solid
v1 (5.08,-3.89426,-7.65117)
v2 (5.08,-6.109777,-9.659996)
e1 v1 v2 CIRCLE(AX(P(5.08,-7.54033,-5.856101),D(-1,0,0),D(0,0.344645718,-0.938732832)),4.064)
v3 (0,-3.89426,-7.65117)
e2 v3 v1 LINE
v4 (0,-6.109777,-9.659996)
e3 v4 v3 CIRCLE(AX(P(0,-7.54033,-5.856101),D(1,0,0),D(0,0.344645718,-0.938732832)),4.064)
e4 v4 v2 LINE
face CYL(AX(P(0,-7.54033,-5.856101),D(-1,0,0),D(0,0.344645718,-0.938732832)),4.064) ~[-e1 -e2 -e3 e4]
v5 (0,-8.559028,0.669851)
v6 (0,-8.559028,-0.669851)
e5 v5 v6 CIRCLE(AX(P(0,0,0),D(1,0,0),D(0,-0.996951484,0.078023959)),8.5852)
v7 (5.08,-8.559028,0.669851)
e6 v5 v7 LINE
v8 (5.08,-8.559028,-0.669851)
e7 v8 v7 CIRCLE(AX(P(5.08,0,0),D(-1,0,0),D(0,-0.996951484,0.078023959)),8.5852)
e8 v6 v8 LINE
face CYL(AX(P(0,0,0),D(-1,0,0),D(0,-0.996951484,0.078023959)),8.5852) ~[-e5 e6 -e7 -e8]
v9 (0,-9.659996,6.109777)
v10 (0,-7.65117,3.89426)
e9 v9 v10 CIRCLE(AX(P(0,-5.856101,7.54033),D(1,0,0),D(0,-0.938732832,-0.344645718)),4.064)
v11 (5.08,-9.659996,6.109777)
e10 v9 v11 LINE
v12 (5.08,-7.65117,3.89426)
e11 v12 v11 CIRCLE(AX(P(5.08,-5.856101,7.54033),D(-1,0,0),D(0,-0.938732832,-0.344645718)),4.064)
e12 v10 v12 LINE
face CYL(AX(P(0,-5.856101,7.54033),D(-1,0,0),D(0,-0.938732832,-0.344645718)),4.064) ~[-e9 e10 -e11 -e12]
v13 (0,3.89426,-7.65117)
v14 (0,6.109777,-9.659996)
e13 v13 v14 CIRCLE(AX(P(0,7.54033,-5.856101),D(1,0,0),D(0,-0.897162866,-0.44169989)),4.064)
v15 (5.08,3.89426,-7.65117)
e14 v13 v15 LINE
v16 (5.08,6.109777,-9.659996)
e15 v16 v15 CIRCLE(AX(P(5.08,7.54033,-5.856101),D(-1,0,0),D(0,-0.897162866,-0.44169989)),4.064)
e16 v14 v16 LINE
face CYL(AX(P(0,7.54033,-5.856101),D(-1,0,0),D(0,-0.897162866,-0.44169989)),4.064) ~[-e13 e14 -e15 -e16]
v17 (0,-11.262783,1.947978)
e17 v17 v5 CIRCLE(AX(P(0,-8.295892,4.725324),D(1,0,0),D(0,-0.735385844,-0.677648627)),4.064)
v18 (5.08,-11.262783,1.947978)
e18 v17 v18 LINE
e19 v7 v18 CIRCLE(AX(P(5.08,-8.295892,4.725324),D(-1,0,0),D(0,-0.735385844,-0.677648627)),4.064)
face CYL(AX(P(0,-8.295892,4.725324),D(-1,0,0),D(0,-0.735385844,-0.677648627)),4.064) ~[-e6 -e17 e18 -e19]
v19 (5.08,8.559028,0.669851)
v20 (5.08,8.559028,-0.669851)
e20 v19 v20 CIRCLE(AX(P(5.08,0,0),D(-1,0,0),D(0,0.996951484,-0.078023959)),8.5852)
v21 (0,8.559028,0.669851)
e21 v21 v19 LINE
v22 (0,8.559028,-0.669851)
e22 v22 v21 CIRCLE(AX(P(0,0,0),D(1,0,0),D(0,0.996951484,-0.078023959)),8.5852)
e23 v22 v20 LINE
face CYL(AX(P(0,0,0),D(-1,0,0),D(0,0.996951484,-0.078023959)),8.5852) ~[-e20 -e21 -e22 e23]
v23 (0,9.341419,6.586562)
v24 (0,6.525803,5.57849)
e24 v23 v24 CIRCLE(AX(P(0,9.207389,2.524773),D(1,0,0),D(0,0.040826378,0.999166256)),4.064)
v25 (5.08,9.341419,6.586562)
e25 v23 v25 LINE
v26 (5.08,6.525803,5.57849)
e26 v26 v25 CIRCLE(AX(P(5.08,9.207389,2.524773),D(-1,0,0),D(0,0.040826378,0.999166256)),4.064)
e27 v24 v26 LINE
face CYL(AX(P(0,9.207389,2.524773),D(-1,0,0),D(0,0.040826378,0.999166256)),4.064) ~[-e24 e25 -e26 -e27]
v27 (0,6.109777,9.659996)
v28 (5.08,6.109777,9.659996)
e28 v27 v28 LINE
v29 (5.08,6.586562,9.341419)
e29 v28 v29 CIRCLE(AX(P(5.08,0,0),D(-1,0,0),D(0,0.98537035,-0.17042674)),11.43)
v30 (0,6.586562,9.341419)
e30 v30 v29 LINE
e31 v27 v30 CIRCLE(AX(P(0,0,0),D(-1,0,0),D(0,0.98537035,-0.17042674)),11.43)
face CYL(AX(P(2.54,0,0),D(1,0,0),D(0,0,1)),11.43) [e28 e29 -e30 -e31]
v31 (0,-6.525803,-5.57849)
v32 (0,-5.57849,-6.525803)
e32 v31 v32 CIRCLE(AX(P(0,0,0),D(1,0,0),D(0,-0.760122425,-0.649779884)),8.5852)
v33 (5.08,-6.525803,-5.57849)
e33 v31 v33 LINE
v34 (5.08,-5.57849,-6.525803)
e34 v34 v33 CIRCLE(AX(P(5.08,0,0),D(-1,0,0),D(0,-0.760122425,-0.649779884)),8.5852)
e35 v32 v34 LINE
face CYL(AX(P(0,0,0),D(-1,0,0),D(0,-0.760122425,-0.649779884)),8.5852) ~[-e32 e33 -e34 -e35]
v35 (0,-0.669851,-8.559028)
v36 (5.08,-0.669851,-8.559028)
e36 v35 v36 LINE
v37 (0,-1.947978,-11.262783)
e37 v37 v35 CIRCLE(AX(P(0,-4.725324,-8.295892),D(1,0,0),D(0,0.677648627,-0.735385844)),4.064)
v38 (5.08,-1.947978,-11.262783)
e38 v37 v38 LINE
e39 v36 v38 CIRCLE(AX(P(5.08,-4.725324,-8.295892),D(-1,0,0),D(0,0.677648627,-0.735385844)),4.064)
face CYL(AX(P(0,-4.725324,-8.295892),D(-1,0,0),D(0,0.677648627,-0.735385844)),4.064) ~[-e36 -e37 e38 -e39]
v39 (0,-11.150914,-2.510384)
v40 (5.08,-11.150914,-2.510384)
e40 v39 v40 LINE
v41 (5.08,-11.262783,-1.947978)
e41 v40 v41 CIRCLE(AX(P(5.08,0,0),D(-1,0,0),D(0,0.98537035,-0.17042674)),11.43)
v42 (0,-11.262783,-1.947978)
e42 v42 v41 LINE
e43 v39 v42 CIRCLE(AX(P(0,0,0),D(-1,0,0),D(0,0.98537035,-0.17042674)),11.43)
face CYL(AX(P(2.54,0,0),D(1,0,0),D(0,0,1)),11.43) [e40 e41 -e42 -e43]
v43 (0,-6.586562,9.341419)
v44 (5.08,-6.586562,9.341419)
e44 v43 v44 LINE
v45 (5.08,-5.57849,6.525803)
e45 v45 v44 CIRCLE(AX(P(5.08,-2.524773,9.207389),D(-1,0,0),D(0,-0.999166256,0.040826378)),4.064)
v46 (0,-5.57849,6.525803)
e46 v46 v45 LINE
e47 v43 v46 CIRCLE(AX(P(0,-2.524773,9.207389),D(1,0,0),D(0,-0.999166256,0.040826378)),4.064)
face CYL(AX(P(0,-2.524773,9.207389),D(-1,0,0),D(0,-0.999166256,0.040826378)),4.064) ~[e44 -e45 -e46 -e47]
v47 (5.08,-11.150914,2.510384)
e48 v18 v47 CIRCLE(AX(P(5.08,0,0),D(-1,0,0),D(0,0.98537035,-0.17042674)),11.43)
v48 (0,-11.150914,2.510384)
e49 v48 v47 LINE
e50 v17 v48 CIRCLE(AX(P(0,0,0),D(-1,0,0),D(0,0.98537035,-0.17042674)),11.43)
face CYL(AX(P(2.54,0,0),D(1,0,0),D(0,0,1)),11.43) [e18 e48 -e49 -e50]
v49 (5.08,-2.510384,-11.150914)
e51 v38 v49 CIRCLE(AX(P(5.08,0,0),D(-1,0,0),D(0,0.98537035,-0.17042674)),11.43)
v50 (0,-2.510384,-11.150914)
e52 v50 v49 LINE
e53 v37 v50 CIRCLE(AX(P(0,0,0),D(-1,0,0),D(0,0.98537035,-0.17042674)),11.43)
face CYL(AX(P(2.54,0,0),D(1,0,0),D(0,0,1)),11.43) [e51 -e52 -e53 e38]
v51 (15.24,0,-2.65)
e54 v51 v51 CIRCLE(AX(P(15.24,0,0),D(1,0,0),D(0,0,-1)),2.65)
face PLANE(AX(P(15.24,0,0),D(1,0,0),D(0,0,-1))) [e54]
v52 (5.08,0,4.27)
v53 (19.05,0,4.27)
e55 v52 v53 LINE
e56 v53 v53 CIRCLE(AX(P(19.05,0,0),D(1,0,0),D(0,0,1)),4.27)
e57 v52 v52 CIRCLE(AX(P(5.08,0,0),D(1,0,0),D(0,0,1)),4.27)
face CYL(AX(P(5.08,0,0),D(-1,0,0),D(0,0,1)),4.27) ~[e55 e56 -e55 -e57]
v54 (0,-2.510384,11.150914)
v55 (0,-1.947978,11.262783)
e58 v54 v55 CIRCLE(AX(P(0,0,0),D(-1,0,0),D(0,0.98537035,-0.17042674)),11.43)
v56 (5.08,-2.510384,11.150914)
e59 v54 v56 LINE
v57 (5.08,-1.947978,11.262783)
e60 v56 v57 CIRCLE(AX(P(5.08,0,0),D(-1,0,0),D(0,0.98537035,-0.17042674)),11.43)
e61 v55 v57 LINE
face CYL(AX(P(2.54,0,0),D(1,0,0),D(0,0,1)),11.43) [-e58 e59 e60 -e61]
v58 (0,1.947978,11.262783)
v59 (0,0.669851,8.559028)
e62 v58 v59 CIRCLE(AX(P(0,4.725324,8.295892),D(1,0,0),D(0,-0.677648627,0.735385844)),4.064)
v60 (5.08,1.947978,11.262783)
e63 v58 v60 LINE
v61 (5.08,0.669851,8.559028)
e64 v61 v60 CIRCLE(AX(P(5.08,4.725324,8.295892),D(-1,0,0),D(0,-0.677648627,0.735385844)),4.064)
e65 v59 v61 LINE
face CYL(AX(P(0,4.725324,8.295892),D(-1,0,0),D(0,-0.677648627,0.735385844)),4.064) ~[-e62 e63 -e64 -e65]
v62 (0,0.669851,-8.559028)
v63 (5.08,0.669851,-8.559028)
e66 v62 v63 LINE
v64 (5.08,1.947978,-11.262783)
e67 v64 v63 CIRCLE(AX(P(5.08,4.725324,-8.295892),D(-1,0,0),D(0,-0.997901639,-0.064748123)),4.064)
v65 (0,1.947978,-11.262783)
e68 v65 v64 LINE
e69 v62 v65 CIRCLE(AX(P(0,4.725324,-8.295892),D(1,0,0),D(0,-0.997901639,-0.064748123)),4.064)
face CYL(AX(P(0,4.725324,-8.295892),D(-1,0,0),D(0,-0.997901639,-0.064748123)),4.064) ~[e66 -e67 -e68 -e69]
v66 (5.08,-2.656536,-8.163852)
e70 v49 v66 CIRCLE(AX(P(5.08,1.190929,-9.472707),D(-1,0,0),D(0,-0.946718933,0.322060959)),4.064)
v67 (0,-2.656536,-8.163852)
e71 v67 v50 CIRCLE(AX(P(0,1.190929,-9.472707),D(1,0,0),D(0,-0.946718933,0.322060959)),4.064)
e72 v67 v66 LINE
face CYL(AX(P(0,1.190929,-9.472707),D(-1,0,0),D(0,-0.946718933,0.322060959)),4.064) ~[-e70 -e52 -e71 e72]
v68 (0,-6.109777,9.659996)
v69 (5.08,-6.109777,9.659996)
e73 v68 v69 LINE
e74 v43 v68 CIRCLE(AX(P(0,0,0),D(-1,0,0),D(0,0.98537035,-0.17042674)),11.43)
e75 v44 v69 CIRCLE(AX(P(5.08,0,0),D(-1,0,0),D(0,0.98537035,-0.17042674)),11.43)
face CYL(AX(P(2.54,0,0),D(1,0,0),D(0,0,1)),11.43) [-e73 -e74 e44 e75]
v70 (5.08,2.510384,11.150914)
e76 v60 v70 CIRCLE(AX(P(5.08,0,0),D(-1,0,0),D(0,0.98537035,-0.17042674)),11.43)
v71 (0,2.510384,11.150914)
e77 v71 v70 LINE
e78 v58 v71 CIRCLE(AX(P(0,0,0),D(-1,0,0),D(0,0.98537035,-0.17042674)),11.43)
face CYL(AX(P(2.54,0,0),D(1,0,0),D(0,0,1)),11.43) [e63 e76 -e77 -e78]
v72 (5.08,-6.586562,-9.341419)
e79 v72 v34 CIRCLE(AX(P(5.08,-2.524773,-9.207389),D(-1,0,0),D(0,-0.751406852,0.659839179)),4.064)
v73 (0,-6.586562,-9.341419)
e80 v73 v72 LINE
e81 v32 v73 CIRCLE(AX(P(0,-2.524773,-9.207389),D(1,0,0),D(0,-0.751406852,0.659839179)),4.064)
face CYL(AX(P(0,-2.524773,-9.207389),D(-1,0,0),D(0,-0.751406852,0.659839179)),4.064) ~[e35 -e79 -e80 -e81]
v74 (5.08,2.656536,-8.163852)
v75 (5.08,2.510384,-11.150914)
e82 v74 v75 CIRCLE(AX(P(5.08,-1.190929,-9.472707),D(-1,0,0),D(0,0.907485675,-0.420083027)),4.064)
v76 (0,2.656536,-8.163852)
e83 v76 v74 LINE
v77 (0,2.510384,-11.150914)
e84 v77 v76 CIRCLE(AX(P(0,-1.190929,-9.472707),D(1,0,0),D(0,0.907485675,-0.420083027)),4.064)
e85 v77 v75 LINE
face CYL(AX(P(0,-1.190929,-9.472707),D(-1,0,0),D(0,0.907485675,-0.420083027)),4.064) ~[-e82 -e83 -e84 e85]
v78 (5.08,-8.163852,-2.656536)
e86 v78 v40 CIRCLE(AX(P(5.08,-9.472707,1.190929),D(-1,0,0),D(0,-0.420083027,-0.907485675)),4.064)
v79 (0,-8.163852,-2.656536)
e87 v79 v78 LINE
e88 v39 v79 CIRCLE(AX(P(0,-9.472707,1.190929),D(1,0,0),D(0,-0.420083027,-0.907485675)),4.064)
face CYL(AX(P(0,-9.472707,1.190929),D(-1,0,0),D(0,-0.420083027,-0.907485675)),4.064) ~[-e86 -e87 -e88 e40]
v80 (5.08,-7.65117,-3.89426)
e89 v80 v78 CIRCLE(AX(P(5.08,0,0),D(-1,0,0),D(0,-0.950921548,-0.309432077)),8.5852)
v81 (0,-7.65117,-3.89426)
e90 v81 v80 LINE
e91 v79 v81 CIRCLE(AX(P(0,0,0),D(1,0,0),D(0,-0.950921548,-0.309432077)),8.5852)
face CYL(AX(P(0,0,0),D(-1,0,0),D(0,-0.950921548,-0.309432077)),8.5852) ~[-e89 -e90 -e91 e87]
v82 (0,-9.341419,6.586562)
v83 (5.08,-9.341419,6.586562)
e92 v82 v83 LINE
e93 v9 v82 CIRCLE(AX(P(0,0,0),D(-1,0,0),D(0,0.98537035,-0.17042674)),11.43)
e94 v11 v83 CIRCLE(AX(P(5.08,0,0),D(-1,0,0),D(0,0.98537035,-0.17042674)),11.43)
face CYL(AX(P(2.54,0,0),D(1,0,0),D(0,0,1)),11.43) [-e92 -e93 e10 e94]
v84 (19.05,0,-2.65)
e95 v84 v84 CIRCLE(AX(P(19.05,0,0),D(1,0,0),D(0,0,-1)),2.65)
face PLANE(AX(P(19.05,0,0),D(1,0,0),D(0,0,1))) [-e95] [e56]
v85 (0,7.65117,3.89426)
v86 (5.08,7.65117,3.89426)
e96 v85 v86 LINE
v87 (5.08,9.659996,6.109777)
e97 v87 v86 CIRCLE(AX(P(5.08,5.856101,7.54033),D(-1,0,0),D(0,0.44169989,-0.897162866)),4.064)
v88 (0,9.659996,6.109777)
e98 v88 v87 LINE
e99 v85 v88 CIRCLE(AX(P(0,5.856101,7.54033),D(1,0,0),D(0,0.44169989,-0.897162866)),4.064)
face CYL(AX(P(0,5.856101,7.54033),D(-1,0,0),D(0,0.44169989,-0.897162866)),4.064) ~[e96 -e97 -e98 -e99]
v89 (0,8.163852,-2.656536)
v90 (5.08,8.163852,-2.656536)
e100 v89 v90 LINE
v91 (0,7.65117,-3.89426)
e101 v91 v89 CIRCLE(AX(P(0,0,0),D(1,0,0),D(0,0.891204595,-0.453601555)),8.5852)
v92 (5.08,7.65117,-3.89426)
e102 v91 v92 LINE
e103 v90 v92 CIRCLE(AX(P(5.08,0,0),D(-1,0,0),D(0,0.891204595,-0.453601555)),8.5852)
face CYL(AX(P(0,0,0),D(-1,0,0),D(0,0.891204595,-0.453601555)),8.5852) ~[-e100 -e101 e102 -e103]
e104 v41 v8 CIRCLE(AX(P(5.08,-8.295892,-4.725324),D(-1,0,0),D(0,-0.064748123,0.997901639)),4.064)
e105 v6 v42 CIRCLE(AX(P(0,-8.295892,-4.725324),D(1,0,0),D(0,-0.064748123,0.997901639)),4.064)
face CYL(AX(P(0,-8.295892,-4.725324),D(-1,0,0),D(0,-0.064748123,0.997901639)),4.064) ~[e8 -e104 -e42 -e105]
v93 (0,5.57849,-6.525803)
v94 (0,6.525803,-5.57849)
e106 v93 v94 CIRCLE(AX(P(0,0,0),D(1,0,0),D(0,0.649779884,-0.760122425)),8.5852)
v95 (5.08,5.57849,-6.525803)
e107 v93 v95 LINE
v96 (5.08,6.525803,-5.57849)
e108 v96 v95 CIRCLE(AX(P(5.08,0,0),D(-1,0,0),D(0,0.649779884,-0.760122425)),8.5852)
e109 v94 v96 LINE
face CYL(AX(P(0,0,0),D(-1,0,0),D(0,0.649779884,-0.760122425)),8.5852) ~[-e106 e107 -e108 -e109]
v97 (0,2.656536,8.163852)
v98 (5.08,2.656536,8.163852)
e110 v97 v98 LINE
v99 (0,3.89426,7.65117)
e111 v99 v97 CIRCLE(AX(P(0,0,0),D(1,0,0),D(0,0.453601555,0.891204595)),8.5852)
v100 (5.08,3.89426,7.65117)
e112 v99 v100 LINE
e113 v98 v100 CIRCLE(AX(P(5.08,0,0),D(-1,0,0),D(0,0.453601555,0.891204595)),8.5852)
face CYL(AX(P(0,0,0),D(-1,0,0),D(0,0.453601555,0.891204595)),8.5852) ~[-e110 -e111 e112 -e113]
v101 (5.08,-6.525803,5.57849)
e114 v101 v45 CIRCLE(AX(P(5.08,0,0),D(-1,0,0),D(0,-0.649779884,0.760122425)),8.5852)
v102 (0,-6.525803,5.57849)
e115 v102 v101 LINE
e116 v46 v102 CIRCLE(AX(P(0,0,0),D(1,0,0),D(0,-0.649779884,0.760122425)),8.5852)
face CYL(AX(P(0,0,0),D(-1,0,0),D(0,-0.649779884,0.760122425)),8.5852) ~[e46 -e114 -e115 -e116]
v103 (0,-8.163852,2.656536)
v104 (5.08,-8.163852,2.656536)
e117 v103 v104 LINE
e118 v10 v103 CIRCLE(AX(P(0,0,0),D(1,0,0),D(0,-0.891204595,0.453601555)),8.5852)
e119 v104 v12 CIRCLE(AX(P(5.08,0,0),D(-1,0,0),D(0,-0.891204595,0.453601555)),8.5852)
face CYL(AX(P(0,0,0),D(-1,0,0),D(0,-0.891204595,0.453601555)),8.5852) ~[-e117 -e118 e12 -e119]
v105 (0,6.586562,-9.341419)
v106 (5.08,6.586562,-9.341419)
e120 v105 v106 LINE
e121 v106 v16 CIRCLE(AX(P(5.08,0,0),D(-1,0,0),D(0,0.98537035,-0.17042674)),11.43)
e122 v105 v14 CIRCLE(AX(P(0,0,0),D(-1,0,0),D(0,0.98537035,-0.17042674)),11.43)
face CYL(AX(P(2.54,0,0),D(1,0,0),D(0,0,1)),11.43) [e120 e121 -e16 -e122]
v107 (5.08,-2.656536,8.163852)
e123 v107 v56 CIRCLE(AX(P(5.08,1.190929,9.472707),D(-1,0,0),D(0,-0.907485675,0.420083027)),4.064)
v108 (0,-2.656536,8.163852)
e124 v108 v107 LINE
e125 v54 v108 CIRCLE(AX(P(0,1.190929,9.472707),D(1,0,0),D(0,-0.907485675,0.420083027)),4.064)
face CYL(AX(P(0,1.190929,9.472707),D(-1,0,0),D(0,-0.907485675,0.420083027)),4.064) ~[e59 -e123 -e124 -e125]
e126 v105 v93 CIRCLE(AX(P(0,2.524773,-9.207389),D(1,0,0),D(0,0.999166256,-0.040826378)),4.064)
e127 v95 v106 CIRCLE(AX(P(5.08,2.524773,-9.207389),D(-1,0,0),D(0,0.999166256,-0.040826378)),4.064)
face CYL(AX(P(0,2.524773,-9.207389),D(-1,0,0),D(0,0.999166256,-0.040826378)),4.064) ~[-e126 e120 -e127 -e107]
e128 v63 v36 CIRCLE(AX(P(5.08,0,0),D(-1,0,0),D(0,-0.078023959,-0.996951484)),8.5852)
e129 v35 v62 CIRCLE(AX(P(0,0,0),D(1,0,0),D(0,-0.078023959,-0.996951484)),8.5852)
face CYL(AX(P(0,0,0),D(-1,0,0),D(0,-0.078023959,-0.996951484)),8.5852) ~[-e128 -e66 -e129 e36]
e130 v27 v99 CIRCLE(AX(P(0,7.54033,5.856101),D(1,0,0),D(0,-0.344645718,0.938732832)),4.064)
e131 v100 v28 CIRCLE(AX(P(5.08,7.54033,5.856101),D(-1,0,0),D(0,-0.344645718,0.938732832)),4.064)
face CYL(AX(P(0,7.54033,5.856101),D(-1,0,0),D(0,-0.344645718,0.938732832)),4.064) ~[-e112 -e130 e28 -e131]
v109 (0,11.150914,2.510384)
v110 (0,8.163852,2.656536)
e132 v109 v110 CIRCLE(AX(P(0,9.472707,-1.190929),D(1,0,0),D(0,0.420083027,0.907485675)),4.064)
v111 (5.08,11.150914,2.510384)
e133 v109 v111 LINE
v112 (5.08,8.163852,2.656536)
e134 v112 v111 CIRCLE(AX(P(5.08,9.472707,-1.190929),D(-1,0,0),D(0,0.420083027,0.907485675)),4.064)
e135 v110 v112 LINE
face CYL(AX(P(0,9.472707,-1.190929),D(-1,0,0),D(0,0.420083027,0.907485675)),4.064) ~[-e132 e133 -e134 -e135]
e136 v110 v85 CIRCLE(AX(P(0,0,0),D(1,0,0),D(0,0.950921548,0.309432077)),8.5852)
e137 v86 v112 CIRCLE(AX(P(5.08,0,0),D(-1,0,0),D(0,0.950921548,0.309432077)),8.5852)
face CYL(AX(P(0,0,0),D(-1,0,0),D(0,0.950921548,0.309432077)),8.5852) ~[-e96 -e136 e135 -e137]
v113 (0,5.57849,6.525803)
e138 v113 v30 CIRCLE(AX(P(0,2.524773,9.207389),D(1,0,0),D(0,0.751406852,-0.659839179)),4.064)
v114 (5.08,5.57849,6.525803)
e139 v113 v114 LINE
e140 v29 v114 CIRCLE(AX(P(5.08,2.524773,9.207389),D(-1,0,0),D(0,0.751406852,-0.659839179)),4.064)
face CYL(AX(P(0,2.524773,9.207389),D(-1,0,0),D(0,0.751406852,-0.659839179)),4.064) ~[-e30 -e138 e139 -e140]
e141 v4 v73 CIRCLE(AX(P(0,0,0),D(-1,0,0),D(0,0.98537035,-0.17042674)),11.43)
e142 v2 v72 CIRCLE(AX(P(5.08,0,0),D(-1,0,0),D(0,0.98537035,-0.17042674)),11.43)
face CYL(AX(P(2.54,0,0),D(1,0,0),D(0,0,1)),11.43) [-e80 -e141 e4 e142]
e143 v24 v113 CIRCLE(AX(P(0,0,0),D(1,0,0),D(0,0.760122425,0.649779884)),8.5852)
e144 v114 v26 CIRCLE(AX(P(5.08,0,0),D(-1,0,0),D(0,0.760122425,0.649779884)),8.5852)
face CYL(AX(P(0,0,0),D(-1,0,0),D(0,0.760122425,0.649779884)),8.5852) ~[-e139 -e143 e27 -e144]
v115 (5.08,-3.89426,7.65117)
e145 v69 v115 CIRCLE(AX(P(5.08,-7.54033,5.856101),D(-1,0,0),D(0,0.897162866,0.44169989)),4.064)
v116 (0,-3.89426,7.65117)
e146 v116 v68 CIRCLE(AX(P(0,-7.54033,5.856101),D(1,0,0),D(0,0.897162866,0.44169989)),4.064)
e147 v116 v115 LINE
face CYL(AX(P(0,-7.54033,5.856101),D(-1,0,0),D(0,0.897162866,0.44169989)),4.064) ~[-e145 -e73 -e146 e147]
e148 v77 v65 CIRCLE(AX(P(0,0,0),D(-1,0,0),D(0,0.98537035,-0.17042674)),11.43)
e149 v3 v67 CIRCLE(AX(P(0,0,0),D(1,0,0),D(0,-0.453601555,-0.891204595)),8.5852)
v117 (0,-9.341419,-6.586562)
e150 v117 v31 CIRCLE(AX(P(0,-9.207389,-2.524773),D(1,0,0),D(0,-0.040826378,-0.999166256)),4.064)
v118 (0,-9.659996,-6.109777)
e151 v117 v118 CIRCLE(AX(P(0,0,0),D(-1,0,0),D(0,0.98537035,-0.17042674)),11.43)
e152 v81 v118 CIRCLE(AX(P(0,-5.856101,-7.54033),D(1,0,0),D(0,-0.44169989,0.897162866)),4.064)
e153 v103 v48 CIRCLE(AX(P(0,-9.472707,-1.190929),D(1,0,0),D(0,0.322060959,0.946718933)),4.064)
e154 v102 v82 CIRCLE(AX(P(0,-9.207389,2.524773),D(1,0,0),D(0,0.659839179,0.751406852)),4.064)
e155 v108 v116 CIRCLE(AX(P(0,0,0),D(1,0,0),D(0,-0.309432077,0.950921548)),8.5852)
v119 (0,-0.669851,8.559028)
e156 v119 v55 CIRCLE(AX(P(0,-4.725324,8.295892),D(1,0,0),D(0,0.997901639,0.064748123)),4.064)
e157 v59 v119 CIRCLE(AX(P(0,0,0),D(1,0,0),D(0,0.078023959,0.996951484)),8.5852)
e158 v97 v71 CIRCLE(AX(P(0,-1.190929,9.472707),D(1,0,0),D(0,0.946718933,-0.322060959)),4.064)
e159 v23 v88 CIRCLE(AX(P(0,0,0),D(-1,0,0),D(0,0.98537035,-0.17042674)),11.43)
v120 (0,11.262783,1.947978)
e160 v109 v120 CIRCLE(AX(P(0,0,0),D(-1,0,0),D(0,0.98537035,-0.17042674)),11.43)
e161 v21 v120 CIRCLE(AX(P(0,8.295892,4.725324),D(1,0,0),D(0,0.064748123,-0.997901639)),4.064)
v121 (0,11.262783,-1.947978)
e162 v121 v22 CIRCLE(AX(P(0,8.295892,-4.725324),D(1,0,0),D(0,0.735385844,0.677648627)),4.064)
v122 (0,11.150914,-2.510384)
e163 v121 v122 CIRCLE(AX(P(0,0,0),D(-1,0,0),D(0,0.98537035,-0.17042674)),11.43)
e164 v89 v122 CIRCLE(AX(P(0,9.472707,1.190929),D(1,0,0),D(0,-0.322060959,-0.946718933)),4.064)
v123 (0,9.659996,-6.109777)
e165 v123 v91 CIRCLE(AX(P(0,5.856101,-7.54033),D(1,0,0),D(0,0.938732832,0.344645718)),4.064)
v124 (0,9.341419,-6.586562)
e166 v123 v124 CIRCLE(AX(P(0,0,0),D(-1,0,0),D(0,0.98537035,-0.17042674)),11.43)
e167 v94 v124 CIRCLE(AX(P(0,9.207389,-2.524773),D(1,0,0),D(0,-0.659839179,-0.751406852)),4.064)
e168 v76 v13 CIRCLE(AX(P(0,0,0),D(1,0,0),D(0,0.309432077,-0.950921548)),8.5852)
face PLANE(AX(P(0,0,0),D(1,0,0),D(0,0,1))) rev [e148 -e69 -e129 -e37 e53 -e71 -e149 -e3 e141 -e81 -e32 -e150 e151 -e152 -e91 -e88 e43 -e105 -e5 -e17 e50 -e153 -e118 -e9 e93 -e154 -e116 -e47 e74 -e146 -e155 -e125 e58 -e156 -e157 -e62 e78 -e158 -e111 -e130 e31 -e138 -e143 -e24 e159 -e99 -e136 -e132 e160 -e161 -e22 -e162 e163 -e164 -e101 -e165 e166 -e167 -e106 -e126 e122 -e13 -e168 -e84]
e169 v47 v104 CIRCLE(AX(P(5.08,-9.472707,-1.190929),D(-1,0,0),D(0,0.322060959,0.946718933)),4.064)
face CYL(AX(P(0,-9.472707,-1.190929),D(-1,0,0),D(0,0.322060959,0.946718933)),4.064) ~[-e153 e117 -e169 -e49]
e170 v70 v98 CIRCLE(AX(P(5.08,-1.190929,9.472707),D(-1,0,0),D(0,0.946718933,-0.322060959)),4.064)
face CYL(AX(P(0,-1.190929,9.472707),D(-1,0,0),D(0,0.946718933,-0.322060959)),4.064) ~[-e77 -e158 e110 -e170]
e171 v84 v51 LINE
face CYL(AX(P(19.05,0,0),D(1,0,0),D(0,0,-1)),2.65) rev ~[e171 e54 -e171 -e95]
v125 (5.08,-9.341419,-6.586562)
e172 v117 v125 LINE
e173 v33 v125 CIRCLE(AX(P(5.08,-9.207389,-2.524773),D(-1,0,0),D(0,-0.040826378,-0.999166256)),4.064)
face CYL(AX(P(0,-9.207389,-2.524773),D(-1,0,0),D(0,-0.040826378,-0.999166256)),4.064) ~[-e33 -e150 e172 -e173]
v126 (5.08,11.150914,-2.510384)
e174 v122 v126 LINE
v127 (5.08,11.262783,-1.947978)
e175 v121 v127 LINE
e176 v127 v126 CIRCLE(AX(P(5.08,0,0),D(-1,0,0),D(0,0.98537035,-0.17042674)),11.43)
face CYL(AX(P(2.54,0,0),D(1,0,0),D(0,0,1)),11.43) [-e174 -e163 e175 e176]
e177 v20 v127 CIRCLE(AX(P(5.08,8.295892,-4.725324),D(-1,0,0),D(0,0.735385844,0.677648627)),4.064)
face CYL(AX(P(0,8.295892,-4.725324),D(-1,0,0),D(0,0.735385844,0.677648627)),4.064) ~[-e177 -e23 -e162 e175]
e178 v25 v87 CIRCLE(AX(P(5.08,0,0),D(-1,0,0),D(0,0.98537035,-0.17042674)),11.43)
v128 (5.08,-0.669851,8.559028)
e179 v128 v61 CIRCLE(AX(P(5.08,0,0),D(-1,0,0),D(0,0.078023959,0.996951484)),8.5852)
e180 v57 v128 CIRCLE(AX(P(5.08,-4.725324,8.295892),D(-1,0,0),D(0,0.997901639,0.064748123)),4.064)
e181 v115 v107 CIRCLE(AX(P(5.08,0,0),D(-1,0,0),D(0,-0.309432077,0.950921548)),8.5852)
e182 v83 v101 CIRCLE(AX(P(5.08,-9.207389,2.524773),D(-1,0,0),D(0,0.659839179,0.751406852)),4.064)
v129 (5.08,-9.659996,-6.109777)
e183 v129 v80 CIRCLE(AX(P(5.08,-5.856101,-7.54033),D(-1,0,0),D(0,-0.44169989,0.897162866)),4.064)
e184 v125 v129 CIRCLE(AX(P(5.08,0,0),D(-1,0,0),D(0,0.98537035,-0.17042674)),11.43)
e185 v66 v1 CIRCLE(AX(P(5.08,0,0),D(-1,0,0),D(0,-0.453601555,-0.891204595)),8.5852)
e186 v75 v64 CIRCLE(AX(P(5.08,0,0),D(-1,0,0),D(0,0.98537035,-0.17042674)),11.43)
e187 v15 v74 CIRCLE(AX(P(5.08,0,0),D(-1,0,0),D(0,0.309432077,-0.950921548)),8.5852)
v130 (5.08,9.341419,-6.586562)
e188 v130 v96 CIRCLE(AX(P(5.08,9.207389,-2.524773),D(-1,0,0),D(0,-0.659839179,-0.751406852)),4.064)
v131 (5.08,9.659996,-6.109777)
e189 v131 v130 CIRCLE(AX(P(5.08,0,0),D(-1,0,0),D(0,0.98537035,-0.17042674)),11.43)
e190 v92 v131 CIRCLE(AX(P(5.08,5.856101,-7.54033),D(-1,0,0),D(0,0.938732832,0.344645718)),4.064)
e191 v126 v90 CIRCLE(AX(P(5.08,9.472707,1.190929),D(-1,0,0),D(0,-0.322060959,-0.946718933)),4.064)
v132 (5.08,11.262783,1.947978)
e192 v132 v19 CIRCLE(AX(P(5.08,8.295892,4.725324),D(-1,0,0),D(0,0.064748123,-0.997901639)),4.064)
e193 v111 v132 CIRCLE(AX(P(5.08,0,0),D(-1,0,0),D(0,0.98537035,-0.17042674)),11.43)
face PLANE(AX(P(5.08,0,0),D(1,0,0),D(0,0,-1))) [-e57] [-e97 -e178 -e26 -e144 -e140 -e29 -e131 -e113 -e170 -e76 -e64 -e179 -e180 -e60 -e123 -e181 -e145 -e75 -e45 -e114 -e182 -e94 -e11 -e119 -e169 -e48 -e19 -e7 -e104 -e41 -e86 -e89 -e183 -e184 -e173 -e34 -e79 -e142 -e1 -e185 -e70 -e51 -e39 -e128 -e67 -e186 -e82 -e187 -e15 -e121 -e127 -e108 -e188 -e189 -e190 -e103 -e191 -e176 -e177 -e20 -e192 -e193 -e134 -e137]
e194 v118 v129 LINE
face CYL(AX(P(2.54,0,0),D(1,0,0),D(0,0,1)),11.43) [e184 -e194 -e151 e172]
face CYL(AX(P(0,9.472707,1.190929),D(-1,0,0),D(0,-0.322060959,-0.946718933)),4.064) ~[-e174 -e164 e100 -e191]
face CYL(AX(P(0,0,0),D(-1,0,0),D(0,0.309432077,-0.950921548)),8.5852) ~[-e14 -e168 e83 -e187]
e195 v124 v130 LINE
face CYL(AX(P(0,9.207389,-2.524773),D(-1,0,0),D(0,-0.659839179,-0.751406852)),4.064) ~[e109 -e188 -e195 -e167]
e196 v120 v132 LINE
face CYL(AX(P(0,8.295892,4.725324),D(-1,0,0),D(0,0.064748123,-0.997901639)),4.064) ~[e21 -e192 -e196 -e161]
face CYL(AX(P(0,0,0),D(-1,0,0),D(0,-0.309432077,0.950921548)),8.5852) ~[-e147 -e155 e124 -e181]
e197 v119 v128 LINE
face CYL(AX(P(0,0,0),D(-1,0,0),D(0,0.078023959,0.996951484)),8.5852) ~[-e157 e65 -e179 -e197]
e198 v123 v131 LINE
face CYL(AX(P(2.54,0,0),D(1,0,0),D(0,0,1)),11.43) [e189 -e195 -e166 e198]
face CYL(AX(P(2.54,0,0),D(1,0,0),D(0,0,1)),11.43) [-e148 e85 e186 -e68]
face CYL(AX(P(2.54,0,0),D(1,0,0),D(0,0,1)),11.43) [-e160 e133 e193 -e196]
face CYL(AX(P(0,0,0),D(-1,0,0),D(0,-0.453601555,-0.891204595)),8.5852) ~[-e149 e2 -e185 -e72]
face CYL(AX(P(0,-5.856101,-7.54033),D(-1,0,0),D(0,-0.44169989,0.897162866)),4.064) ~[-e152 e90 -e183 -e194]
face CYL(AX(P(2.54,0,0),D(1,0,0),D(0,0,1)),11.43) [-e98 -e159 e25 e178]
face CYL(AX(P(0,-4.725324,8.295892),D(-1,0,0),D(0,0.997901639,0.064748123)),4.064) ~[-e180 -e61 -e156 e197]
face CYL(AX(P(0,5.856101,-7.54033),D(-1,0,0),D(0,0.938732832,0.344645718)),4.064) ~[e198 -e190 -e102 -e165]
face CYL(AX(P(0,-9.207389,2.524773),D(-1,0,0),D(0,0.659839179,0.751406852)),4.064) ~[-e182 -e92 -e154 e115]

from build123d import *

# Parameters (mm, degrees)
BASPROSKE_W         = 5.08
BASPROSKE_H         = 11.43
TOOTHCUT_DEPTH      = 17.943913361
TEETHCUTS_COUNT     = 16
TEETHCUTS_ANGLE     = 337.5
BORSKE_R            = 0.99949
BORE_DEPTH          = 50.8000508
SKETCH1_R           = 0.99949
BOSS_EXTRUDE1_DEPTH = 5.08
SKETCH2_R           = 4.269999969
BOSS_EXTRUDE2_DEPTH = 13.97
SKETCH3_R           = 2.65
CUT_EXTRUDE1_DEPTH  = 3.81


with BuildPart() as part:
    # BasProSke → Base-Revolve (revolve)
    with BuildSketch(Plane(origin=(0, 0, 0), x_dir=(1, 0, 0), z_dir=(0, 1, 0)), mode=Mode.PRIVATE) as base_revolve_sk:
        with Locations((2.54, 5.715)):
            Rectangle(BASPROSKE_W, BASPROSKE_H)
    revolve(base_revolve_sk.sketch.rotate(Axis((-10, 0, 0), (1, 0, 0)), 180), axis=Axis((-10, 0, 0), (1, 0, 0)))

    # TooCutSke → ToothCut (cut, through all)
    with BuildSketch(Plane(origin=(0, 0, 0), x_dir=(0, 0, -1), z_dir=(1, 0, 0))):
        with BuildLine():
            ThreePointArc((0.669851294, 8.559027882), (0, 8.5852), (-0.669851294, 8.559027882))
            ThreePointArc((-0.669851294, 8.559027882), (-1.058014649, 10.047160022), (-1.971359535, 11.284499579))
            ThreePointArc((-1.971359535, 11.284499579), (0, 11.4554), (1.971359535, 11.284499579))
            ThreePointArc((1.971359535, 11.284499579), (1.058014649, 10.047160022), (0.669851294, 8.559027882))
        make_face()
    toothcut = extrude(amount=TOOTHCUT_DEPTH, mode=Mode.SUBTRACT)

    # TeethCuts: ToothCut ×16 about axis
    teethcuts_axis = Axis((-10, 0, 0), (1, 0, 0))
    for i in range(1, TEETHCUTS_COUNT):
        add(toothcut.rotate(teethcuts_axis, i * TEETHCUTS_ANGLE / (TEETHCUTS_COUNT - 1)), mode=Mode.SUBTRACT)

    # BorSke → Bore (cut, symmetric)
    with BuildSketch(Plane(origin=(0, 0, 0), x_dir=(0, 0, -1), z_dir=(1, 0, 0))):
        with Locations(Location((0, 0, 0), (0, 0, 180))):
            Circle(BORSKE_R)
    extrude(amount=BORE_DEPTH, both=True, mode=Mode.SUBTRACT)

    # Sketch1 → Boss-Extrude1 (add)
    with BuildSketch(Plane(origin=(5.08, 0, 0), x_dir=(0, 0, -1), z_dir=(1, 0, 0))):
        Circle(SKETCH1_R)
    extrude(amount=-BOSS_EXTRUDE1_DEPTH)

    # Sketch2 → Boss-Extrude2 (add)
    with BuildSketch(Plane(origin=(5.08, 0, 0), x_dir=(0, 0, -1), z_dir=(1, 0, 0))):
        with Locations(Location((0, 0, 0), (0, 0, 180))):
            Circle(SKETCH2_R)
    extrude(amount=BOSS_EXTRUDE2_DEPTH)

    # Sketch3 → Cut-Extrude1 (cut)
    with BuildSketch(Plane(origin=(19.05, 0, 0), x_dir=(0, 0, -1), z_dir=(1, 0, 0))):
        Circle(SKETCH3_R)
    extrude(amount=-CUT_EXTRUDE1_DEPTH, mode=Mode.SUBTRACT)


solid = part.part
